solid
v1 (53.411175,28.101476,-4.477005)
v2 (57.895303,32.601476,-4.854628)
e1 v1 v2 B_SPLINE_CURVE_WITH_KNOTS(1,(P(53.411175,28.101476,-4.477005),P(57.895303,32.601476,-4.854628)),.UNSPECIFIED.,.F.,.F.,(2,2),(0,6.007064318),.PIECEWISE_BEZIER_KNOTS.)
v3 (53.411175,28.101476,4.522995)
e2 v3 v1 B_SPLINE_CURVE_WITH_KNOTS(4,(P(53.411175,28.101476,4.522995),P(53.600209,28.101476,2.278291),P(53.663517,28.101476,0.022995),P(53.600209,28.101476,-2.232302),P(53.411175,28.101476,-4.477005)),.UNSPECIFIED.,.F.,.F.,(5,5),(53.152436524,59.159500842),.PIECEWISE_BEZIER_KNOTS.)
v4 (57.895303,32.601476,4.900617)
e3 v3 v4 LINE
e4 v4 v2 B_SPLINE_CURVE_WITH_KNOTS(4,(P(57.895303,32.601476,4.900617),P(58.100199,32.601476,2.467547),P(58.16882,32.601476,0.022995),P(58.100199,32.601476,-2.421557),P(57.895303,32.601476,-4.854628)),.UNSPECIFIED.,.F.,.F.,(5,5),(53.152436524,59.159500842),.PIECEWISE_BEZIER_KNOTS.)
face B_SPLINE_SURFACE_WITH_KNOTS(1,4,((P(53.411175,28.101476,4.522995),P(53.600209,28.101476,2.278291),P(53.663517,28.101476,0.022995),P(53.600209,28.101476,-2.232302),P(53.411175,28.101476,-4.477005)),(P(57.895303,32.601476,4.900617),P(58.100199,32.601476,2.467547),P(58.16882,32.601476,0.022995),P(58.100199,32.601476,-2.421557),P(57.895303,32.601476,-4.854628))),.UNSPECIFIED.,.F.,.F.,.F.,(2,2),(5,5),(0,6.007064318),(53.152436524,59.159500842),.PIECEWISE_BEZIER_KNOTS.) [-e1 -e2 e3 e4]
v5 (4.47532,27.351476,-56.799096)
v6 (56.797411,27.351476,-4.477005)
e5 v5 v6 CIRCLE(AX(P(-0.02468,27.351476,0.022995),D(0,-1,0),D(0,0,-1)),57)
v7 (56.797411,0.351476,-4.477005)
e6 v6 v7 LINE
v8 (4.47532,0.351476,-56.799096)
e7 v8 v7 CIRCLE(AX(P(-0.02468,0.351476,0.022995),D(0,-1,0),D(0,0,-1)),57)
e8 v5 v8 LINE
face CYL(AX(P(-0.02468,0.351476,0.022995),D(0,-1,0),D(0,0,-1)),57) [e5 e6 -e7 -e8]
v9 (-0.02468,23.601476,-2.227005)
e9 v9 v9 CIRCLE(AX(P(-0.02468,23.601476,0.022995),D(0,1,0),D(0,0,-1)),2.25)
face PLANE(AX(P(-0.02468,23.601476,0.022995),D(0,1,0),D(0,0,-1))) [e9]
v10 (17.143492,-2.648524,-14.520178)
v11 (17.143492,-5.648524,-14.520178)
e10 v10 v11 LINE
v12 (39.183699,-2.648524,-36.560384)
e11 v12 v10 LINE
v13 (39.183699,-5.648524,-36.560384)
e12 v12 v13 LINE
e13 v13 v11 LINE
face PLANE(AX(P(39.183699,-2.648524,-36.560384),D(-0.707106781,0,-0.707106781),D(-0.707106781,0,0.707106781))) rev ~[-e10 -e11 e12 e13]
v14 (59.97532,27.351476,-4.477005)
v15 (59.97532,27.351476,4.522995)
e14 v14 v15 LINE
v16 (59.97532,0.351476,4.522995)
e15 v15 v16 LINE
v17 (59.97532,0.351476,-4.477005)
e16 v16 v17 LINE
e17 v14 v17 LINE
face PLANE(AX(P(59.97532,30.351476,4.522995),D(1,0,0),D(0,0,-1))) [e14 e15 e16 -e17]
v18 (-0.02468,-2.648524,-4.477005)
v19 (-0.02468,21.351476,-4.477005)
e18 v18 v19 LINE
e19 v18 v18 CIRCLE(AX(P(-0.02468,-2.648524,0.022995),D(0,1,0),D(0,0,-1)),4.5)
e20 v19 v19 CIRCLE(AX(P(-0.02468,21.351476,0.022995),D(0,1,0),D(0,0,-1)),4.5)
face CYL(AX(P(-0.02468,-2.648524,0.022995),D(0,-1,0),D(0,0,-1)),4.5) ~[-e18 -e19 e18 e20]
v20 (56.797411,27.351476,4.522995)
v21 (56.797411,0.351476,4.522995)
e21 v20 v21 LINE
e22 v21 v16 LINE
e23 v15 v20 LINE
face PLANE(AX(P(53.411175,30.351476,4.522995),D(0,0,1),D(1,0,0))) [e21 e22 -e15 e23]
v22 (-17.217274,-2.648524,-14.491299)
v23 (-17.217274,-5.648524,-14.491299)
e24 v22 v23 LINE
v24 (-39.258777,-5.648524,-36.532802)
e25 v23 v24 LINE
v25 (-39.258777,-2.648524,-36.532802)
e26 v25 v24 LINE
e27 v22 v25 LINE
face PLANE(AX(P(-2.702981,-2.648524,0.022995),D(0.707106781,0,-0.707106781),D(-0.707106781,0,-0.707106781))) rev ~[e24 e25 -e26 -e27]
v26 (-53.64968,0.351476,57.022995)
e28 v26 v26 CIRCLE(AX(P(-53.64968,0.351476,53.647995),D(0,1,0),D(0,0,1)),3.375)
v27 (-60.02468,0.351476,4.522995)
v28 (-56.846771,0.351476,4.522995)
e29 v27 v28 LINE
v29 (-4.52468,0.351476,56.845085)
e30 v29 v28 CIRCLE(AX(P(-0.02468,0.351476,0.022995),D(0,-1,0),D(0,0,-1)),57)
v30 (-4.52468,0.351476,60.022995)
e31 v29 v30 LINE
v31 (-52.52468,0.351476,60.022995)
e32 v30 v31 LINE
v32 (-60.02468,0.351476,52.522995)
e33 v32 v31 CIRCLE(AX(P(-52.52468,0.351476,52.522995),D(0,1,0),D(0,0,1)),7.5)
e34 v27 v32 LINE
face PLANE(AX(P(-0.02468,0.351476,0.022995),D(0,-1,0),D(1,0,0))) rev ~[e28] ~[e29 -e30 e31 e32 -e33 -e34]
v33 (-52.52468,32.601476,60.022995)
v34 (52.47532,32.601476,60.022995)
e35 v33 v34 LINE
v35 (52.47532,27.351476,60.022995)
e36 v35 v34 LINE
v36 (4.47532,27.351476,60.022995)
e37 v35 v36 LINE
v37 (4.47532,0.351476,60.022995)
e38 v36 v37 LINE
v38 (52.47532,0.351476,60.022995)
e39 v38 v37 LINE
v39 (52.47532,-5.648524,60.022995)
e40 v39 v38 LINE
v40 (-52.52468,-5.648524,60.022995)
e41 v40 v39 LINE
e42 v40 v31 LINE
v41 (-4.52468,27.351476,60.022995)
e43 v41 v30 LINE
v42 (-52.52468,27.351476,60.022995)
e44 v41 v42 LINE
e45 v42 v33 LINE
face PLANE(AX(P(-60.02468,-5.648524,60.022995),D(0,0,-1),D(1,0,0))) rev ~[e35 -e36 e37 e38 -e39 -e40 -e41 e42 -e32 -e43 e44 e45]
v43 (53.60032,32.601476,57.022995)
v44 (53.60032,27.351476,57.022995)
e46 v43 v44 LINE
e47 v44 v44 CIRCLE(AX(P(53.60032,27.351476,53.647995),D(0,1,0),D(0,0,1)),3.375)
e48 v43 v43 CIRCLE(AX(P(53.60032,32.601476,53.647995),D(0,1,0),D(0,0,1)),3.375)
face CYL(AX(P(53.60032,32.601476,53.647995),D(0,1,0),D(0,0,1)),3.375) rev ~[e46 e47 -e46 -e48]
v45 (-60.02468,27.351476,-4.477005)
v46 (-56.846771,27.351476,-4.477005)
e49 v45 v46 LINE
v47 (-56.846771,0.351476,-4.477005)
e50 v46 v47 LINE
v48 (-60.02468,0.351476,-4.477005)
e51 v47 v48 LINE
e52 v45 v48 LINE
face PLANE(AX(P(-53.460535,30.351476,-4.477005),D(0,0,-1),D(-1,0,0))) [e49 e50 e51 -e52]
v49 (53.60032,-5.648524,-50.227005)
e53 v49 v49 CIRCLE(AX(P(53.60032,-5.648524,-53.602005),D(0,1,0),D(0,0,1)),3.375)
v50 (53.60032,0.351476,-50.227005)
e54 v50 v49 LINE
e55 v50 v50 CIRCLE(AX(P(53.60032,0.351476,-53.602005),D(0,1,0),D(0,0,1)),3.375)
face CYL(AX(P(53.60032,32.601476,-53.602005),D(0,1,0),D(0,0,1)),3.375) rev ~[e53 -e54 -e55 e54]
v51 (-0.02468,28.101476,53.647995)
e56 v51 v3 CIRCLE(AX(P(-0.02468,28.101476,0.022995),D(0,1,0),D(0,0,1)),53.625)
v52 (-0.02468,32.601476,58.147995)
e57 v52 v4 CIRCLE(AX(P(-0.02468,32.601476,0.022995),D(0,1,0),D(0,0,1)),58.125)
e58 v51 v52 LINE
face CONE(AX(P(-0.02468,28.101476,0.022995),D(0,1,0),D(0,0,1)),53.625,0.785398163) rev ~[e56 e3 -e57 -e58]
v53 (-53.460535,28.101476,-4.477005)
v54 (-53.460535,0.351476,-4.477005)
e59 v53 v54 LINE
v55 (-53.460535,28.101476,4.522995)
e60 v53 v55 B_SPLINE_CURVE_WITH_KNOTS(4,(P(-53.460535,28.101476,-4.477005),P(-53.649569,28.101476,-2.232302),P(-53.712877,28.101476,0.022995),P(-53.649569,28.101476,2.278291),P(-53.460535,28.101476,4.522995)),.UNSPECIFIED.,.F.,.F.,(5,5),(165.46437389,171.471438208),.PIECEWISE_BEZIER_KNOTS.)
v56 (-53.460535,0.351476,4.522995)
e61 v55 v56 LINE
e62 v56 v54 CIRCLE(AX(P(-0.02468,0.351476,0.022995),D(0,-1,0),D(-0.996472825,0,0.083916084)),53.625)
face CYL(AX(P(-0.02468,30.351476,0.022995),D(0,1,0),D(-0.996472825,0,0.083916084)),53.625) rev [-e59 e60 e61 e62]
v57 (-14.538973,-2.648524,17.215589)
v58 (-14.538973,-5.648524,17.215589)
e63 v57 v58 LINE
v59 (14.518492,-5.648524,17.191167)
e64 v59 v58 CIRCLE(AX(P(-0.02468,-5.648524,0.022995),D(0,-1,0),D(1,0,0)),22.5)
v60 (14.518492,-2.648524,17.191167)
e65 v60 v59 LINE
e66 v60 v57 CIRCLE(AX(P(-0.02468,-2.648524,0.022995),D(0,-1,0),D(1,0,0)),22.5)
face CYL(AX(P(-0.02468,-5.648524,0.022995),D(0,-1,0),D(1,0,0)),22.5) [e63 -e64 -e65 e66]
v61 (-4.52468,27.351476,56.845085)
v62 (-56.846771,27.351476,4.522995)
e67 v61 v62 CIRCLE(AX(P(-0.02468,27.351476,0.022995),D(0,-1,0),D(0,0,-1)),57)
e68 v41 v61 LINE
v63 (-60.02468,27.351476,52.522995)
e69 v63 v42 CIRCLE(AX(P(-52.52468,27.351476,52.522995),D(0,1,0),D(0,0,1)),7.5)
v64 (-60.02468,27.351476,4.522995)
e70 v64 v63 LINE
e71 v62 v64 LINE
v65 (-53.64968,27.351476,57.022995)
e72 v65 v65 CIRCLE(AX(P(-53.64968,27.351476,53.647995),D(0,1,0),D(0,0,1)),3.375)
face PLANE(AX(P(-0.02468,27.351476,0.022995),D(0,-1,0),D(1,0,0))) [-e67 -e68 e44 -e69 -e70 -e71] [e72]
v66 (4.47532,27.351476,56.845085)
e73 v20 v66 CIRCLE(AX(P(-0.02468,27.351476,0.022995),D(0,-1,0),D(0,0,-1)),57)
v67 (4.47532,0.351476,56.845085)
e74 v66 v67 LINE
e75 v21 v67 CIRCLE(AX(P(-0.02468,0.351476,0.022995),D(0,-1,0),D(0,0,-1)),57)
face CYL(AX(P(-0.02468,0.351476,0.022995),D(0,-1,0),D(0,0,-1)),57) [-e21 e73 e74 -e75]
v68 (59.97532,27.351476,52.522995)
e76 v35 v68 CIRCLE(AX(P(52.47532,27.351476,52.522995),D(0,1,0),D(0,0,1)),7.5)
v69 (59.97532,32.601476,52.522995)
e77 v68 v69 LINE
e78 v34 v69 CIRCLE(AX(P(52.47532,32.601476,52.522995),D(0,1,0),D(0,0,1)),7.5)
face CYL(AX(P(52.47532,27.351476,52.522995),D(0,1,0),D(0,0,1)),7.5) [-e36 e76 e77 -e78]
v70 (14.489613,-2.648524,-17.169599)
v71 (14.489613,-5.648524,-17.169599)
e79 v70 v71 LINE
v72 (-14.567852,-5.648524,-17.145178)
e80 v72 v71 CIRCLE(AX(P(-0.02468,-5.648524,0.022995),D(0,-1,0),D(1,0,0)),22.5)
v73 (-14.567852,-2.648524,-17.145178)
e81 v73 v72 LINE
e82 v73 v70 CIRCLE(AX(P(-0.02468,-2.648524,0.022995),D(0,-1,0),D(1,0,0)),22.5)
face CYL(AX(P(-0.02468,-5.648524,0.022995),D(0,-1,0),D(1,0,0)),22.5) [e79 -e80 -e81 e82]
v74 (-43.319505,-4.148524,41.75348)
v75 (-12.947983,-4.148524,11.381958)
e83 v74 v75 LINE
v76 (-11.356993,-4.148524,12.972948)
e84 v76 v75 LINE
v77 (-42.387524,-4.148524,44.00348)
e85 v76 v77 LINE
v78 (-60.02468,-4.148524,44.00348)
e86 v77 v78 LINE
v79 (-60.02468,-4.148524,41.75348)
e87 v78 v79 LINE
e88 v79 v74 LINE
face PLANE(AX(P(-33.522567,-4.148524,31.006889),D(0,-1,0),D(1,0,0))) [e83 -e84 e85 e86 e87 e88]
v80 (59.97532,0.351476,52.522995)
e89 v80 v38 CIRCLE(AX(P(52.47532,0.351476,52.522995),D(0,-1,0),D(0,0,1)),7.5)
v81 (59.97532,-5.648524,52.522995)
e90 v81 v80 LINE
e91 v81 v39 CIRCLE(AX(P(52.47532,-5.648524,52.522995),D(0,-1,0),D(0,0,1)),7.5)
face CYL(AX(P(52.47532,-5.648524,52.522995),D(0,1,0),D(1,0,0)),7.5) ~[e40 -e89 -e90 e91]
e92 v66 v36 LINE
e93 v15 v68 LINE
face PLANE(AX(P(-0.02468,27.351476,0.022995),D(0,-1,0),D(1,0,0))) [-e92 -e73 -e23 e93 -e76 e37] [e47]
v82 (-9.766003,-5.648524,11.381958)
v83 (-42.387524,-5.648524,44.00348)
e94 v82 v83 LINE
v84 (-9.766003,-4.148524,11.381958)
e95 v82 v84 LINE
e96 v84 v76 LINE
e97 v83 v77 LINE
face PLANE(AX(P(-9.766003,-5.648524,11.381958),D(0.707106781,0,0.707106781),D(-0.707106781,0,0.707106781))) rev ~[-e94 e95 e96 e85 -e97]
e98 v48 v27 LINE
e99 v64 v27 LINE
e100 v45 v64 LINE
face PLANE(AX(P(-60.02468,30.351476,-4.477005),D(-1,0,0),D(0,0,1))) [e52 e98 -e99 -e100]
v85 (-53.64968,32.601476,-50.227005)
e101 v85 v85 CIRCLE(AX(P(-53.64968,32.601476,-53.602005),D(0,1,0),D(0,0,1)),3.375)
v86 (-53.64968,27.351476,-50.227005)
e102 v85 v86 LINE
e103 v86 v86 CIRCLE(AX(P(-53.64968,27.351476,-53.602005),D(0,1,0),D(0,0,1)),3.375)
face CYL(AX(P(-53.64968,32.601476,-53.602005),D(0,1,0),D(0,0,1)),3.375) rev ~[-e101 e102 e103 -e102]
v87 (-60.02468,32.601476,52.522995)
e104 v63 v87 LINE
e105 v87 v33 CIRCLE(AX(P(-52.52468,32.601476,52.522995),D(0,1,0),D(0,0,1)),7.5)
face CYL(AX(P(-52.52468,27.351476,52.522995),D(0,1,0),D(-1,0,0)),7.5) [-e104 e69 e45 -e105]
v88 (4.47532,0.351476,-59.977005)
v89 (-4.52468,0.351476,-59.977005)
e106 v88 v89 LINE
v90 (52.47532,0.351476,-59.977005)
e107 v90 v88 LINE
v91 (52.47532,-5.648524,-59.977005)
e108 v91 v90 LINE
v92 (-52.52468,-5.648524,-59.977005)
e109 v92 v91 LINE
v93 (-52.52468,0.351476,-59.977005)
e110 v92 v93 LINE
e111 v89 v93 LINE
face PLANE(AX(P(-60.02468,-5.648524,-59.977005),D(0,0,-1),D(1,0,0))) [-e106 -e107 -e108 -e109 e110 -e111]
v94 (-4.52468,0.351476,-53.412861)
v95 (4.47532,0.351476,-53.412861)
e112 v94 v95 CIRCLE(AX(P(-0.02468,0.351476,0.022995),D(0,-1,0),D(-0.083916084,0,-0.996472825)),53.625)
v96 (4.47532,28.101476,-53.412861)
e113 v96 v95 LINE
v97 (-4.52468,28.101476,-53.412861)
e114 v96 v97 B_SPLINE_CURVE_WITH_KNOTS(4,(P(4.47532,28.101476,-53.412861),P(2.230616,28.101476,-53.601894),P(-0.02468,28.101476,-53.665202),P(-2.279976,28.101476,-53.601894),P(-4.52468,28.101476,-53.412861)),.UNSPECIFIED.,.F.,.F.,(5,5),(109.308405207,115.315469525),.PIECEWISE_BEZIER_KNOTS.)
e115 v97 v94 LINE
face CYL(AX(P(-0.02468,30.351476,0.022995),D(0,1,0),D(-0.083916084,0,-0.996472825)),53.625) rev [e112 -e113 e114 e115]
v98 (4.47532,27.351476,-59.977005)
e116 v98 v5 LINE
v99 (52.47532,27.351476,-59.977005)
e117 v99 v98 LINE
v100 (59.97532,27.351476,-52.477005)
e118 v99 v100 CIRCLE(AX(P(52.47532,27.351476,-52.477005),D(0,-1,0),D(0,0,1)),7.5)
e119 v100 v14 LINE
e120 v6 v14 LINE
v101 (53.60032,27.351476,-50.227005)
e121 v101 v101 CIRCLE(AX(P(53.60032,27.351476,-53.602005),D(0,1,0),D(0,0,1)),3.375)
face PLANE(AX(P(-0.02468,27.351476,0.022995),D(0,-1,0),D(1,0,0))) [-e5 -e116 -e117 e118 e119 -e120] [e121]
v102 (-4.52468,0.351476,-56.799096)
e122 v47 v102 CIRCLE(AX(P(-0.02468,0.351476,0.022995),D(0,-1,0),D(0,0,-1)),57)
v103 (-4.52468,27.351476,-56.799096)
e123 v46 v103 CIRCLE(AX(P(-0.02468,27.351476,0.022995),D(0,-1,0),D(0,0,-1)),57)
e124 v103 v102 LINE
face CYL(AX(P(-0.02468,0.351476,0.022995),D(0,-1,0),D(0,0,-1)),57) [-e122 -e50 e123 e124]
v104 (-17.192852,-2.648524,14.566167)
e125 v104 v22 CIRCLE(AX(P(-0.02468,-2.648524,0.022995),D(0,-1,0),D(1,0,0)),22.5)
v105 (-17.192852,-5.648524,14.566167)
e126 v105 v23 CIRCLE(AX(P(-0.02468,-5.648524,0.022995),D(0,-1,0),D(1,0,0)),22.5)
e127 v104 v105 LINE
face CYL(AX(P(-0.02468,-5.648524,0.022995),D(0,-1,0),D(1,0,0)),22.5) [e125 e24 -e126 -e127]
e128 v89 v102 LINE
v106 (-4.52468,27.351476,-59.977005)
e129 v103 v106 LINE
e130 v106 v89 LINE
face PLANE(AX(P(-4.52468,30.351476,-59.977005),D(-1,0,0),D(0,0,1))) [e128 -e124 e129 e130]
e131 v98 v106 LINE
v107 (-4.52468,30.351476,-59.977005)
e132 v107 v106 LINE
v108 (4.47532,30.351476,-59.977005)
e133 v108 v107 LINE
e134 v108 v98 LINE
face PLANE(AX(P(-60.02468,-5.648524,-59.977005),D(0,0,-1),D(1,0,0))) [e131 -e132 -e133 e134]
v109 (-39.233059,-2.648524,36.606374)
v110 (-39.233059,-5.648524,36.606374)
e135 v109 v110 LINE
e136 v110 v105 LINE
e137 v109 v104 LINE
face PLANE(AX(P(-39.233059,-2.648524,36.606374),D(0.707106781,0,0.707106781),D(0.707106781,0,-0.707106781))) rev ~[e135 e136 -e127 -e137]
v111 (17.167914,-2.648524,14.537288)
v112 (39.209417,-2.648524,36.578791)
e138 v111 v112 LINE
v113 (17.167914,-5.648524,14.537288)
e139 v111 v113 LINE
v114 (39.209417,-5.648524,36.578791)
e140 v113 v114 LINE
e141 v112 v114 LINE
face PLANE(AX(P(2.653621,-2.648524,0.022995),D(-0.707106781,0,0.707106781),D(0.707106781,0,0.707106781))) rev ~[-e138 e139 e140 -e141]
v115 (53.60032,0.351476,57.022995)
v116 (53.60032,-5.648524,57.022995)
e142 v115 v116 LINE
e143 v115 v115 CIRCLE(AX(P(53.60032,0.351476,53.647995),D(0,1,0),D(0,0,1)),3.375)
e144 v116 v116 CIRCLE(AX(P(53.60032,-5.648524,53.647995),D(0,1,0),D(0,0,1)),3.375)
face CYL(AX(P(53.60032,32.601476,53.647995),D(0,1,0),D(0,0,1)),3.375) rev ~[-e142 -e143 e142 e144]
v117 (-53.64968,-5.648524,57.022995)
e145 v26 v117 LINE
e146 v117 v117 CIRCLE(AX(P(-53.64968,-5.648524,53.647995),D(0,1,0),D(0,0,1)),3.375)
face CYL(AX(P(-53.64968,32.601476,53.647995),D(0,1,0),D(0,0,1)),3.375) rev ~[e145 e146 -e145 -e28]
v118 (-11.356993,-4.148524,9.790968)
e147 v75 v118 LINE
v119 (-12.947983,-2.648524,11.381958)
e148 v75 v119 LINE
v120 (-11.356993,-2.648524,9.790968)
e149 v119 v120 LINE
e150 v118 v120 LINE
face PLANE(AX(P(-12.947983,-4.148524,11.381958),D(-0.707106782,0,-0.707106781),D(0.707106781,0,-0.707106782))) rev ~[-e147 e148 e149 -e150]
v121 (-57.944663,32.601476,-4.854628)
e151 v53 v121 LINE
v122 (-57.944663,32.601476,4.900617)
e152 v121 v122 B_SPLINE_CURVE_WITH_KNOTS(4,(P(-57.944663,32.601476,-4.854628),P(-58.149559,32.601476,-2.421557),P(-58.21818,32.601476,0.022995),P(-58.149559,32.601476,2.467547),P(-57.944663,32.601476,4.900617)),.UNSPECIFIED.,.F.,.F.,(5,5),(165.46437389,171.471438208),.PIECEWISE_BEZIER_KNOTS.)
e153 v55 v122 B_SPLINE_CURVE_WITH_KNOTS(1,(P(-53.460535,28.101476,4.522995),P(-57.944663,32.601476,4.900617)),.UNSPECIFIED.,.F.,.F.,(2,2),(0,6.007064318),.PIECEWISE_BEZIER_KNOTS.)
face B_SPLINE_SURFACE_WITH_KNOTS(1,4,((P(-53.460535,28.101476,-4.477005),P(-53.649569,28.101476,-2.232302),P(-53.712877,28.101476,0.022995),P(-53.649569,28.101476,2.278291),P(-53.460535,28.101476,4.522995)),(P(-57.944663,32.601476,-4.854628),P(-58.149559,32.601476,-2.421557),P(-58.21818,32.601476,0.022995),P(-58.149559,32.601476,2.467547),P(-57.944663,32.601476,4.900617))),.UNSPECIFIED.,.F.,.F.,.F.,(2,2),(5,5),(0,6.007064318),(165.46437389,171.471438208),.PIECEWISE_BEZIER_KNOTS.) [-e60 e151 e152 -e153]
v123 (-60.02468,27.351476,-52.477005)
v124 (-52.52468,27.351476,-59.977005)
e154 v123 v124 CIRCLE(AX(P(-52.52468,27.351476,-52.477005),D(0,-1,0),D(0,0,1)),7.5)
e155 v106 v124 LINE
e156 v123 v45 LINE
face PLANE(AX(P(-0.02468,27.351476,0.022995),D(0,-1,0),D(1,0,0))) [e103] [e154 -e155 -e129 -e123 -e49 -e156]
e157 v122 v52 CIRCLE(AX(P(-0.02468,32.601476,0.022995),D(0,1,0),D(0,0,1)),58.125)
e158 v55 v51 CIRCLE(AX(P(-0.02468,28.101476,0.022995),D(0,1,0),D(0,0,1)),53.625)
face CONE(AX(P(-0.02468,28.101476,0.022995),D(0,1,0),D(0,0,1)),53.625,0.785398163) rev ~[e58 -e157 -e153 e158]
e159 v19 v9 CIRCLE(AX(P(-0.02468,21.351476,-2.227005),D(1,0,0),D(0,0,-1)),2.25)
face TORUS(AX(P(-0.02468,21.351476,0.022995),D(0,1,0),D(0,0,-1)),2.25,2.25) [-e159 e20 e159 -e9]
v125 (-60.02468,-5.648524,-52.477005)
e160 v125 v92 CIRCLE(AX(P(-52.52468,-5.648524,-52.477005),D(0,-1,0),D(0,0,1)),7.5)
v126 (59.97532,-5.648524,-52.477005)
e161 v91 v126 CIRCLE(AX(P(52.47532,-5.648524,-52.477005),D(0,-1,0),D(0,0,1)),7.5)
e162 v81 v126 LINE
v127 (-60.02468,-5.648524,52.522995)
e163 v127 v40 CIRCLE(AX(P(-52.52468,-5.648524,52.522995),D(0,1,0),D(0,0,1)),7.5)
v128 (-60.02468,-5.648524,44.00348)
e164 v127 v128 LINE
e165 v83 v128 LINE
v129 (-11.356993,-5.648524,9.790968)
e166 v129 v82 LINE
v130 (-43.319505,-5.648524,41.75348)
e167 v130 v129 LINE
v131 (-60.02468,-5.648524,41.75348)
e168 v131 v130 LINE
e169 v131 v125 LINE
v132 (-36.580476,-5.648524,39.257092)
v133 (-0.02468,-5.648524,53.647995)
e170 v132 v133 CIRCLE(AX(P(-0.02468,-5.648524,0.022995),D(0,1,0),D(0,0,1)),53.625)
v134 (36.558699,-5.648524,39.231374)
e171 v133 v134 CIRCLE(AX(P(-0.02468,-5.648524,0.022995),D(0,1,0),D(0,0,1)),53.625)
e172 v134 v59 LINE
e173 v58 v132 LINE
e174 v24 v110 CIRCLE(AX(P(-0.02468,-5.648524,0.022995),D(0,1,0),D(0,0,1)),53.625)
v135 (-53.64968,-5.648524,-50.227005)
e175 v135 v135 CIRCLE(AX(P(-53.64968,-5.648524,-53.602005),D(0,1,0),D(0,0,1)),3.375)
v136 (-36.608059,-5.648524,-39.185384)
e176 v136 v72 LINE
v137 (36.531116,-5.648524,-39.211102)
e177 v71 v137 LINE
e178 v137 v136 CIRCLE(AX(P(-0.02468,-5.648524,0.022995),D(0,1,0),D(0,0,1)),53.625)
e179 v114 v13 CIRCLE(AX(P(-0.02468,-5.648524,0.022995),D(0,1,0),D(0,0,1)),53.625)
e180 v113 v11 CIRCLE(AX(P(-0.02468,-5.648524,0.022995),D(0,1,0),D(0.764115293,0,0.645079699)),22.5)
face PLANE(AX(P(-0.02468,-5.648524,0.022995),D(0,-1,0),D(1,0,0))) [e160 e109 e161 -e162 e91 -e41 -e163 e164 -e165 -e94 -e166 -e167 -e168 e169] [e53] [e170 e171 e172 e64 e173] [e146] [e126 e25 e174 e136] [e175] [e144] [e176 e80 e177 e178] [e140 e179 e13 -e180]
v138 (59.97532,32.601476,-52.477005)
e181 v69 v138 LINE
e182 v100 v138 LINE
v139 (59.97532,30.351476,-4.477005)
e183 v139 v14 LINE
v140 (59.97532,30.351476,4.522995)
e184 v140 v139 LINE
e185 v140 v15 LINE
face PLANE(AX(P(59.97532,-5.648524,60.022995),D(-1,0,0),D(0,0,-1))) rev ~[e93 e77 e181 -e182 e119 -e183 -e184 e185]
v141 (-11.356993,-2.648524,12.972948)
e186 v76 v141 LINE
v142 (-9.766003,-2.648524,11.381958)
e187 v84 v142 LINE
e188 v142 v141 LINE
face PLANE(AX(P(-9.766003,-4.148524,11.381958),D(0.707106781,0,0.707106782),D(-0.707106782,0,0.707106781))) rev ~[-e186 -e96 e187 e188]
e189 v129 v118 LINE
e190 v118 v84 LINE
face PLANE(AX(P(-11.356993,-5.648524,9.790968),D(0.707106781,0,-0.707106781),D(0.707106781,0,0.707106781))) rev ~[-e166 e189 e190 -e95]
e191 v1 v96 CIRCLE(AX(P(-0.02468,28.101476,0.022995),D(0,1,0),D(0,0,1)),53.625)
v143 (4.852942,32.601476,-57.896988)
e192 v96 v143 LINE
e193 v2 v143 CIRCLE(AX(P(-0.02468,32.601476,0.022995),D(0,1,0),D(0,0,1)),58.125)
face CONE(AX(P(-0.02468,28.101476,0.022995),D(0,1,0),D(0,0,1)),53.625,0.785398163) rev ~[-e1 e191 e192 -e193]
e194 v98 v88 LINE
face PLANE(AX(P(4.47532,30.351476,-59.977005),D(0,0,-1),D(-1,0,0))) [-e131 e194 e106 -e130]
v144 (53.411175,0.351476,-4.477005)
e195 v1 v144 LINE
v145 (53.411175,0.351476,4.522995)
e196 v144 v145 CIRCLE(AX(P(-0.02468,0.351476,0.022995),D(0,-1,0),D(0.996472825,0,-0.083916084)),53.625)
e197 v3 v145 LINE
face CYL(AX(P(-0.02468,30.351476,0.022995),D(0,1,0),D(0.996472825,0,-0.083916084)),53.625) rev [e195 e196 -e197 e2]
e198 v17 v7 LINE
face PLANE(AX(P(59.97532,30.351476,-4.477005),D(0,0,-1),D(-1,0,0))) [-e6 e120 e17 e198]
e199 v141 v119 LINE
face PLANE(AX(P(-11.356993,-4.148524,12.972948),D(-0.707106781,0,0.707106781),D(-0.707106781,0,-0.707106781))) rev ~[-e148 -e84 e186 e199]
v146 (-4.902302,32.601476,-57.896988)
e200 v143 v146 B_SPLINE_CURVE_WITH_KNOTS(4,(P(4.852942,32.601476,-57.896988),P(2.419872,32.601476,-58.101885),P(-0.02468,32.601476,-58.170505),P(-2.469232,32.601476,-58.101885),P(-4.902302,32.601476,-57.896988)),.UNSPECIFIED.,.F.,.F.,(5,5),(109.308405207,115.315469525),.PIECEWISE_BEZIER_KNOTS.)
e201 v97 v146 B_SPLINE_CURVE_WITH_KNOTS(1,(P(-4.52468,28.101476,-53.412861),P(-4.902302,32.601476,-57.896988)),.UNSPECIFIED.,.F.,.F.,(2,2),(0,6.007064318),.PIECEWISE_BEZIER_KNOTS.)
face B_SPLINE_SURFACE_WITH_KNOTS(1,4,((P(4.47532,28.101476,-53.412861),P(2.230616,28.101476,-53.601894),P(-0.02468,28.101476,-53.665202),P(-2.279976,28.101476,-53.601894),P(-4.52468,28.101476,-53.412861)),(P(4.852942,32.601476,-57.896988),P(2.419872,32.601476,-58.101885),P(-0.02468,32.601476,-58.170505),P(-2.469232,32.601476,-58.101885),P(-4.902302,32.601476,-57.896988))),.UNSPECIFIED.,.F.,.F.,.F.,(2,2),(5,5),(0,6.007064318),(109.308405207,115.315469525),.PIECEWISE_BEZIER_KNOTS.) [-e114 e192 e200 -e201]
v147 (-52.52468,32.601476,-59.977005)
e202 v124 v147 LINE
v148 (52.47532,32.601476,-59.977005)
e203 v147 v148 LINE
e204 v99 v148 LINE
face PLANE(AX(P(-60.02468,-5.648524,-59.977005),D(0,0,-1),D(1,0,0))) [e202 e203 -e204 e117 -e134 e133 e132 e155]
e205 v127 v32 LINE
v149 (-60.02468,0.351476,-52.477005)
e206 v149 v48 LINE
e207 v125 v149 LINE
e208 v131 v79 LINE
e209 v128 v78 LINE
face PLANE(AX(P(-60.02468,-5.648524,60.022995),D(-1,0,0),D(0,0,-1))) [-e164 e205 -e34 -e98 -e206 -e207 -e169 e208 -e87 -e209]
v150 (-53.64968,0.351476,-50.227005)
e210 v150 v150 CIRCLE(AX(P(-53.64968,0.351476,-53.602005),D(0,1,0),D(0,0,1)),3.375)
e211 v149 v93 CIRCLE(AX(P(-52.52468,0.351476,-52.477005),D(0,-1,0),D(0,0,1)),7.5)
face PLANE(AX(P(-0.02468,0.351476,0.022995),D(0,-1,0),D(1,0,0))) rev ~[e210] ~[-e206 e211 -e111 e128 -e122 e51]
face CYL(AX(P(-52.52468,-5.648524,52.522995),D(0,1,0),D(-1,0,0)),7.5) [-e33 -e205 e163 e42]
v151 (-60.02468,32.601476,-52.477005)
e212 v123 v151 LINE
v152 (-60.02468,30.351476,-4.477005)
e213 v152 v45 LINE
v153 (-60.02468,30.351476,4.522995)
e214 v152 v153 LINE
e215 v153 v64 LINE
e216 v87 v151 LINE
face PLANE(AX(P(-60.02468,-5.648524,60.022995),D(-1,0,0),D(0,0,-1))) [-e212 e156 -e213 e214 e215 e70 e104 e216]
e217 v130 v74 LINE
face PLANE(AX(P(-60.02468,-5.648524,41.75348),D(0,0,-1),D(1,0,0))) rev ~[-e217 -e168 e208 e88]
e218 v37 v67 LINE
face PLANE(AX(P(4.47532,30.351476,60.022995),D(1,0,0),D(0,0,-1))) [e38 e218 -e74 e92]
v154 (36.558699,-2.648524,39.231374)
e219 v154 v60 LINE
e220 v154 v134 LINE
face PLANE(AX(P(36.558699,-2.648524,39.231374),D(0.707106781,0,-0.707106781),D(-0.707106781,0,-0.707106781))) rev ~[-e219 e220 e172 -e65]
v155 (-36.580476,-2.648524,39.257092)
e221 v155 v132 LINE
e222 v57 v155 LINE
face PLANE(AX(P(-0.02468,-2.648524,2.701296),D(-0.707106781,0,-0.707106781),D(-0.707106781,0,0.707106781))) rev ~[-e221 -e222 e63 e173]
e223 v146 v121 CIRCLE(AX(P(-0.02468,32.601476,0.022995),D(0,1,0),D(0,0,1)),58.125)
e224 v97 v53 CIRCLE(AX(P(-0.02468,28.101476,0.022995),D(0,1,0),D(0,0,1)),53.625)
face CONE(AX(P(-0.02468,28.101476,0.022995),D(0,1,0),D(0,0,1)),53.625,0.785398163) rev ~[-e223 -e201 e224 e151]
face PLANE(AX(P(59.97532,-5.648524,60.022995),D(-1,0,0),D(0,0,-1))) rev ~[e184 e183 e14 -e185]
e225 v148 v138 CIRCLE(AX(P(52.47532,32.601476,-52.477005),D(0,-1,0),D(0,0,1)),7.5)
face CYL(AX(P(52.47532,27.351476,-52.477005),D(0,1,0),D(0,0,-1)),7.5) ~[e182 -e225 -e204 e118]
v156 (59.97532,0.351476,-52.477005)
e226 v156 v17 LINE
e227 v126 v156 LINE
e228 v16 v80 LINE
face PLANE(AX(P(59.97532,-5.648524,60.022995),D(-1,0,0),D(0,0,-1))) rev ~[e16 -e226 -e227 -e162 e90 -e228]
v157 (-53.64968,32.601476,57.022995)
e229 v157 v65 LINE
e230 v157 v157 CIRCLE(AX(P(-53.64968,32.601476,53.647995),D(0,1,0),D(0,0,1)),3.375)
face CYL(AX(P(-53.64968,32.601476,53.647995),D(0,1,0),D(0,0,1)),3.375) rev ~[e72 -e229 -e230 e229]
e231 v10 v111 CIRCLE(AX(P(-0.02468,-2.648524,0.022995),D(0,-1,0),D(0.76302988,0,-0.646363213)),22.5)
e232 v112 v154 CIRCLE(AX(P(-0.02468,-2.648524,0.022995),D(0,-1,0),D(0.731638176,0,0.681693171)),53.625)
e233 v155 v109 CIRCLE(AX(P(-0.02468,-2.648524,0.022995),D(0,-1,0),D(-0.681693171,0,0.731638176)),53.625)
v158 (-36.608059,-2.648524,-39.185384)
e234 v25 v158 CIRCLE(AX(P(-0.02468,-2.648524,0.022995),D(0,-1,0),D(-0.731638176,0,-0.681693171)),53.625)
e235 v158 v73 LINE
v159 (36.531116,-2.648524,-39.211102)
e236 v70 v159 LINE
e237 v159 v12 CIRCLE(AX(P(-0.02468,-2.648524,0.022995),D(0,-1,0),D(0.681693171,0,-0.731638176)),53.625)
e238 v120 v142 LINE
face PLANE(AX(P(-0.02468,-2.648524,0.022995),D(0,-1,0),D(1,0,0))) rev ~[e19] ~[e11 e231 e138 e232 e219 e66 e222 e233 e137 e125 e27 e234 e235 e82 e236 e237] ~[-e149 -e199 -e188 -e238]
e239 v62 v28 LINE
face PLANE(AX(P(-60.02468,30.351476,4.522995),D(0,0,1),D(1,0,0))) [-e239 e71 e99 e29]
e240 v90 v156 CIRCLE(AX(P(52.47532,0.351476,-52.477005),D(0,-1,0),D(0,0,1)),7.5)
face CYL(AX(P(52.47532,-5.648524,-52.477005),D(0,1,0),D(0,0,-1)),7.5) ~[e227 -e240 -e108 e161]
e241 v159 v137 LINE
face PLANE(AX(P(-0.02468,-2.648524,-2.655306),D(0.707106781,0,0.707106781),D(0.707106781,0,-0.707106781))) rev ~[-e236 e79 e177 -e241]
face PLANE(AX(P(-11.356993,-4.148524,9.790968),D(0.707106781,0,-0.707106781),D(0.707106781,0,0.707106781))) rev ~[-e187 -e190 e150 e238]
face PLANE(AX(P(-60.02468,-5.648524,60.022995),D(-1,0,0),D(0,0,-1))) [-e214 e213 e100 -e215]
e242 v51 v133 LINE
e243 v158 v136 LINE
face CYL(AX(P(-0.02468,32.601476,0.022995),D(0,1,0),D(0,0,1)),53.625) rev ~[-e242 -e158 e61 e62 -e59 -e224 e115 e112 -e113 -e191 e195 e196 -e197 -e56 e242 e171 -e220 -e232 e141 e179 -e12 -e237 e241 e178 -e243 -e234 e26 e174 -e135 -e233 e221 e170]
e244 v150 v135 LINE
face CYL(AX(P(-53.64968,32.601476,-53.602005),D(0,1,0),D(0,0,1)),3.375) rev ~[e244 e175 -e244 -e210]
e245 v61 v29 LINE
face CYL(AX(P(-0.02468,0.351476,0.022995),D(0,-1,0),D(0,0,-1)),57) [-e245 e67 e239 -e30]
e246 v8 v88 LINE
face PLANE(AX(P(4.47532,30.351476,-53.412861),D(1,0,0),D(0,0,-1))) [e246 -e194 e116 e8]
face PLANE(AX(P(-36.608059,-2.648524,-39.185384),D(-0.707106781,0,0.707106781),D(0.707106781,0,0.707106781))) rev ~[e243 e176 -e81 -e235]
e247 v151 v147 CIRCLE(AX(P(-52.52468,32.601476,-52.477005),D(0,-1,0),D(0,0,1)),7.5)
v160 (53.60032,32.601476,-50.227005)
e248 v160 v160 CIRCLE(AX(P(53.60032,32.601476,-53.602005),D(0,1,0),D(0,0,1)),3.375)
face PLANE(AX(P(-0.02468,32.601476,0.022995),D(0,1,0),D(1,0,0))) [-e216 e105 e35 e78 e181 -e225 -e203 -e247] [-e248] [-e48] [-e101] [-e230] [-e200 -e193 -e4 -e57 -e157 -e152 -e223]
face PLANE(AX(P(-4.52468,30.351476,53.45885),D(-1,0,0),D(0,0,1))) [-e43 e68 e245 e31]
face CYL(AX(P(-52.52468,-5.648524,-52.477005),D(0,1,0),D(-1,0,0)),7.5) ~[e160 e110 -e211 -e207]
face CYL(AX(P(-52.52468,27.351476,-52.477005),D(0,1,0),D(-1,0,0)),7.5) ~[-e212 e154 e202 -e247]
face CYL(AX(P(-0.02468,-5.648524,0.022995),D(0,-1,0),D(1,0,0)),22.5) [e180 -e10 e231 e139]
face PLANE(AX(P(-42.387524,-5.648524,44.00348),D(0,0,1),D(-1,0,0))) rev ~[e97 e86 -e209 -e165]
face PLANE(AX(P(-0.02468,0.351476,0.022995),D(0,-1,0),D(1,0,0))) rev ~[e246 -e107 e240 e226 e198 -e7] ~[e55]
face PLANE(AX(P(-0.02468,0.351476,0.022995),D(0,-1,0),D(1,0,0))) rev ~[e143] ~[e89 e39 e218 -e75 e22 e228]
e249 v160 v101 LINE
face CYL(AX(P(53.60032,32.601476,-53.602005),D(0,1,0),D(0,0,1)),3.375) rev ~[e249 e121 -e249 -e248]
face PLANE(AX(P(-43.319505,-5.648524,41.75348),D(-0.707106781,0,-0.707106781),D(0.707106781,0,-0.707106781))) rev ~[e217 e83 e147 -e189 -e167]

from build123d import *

# Parameters (mm, degrees)
SKETCH1_W            = 80
SKETCH1_H            = 80
BOSS_EXTRUDE1_DEPTH  = 25.5
SKETCH2_R            = 35.75
CUT_EXTRUDE2_DEPTH   = 28
BOSS_EXTRUDE2_START  = -2
BOSS_EXTRUDE2_DEPTH  = 2
CIRPATTERN2_COUNT    = 4
SKETCH5_R            = 15
BOSS_EXTRUDE3_DEPTH  = 2
SKETCH6_R            = 3
BOSS_EXTRUDE4_DEPTH  = 17.5
FILLET1_R            = 1.5
SKETCH7_R            = 70
SKETCH7_R_2          = 38
CUT_EXTRUDE4_DEPTH   = 18
FILLET2_R            = 5
BOSS_EXTRUDE5_START  = -20
BOSS_EXTRUDE5_DEPTH  = 20
CIRPATTERN3_COUNT    = 4
SKETCH9_R            = 2.25
CUT_EXTRUDE5_DEPTH   = 37
LPATTERN1_COUNT      = 2
LPATTERN1_PITCH      = 71.5
LPATTERN1_COUNT_DIR2 = 2
LPATTERN1_PITCH_DIR2 = 71.5
CHAMFER2_SIZE        = 3
CUT_EXTRUDE6_DEPTH   = 1
CUT_EXTRUDE7_DEPTH   = 7
SCALE1_SCALE         = 1.5


with BuildPart() as part:
    # Sketch1 → Boss-Extrude1 (new body)
    with BuildSketch(Plane(origin=(0, 0, 0), x_dir=(1, 0, 0), z_dir=(0, 1, 0))):
        Rectangle(SKETCH1_W, SKETCH1_H)
    extrude(amount=BOSS_EXTRUDE1_DEPTH)

    # Sketch2 → Cut-Extrude2 (cut)
    with BuildSketch(Plane(origin=(0, 25.5, 0), x_dir=(1, 0, 0), z_dir=(0, 1, 0))):
        with Locations(Location((0, 0, 0), (0, 0, 270))):
            Circle(SKETCH2_R)
    extrude(amount=-CUT_EXTRUDE2_DEPTH, mode=Mode.SUBTRACT)

    # Sketch4 → Boss-Extrude2 (add)
    with BuildSketch(Plane.XZ.offset(BOSS_EXTRUDE2_START)):
        with BuildLine():
            Line((-1.75, 0), (0, 1.785533906))
            Line((0, 1.785533906), (-24.370530875, 26.156064781))
            ThreePointArc((-24.370530875, 26.156064781), (-25.270176953, 25.287954776), (-26.138919431, 24.388919431))
            Line((-26.138919431, 24.388919431), (-1.75, 0))
        make_face()
    boss_extrude2 = extrude(amount=BOSS_EXTRUDE2_DEPTH)

    # CirPattern2: Boss-Extrude2 ×4 about axis
    cirpattern2_axis = Axis((0, 0, 0), (0, 1, 0))
    for i in range(1, CIRPATTERN2_COUNT):
        add(boss_extrude2.rotate(cirpattern2_axis, i * 360 / CIRPATTERN2_COUNT))

    # Sketch5 → Boss-Extrude3 (add)
    with BuildSketch(Plane.XZ):
        Circle(SKETCH5_R)
    extrude(amount=-BOSS_EXTRUDE3_DEPTH)

    # Sketch6 → Boss-Extrude4 (add)
    with BuildSketch(Plane(origin=(0, 2, 0), x_dir=(1, 0, 0), z_dir=(0, 1, 0))):
        with Locations(Location((0, 0, 0), (0, 0, 90))):
            Circle(SKETCH6_R)
    extrude(amount=BOSS_EXTRUDE4_DEPTH)

    # Fillet1
    fillet1_edges = [part.edges().sort_by_distance(p)[0] for p in [
        (0, 19.5, 3),
    ]]
    fillet(fillet1_edges, radius=FILLET1_R)

    # Sketch7 → Cut-Extrude4 (cut)
    with BuildSketch(Plane.XZ.offset(-4)):
        Circle(SKETCH7_R)
        with Locations(Location((0, 0, 0), (0, 0, 270))):
            Circle(SKETCH7_R_2, mode=Mode.SUBTRACT)
    extrude(amount=-CUT_EXTRUDE4_DEPTH, mode=Mode.SUBTRACT)

    # Fillet2
    fillet2_edges = [part.edges().sort_by_distance(p)[0] for p in [
        (-40, 2, -40),
        (40, 2, -40),
        (40, 2, 40),
        (-40, 2, 40),
        (-40, 23.75, -40),
        (40, 23.75, -40),
        (40, 23.75, 40),
        (-40, 23.75, 40),
    ]]
    fillet(fillet2_edges, radius=FILLET2_R)

    # Sketch8 → Boss-Extrude5 (add)
    with BuildSketch(Plane.XZ.offset(-4).offset(BOSS_EXTRUDE5_START)):
        with BuildLine():
            Line((-3, 40), (3, 40))
            Line((3, 40), (3, 35.623903492))
            ThreePointArc((3, 35.623903492), (0, 35.75), (-3, 35.623903492))
            Line((-3, 35.623903492), (-3, 40))
        make_face()
    boss_extrude5 = extrude(amount=BOSS_EXTRUDE5_DEPTH)

    # CirPattern3: Boss-Extrude5 ×4 about axis
    cirpattern3_axis = Axis((0, 0, 0), (0, 1, 0))
    for i in range(1, CIRPATTERN3_COUNT):
        add(boss_extrude5.rotate(cirpattern3_axis, i * 360 / CIRPATTERN3_COUNT))

    # Sketch9 → Cut-Extrude5 (cut)
    with BuildSketch(Plane(origin=(0, 25.5, 0), x_dir=(-1, 0, 0), z_dir=(0, 1, 0))):
        with Locations(Location((35.75, -35.75, 0), (0, 0, 90))):
            Circle(SKETCH9_R)
    cut_extrude5 = extrude(amount=-CUT_EXTRUDE5_DEPTH, mode=Mode.SUBTRACT)

    # LPattern1: Cut-Extrude5 2 × 2
    with Locations(*[(i * LPATTERN1_PITCH, 0, j * LPATTERN1_PITCH_DIR2) for i in range(LPATTERN1_COUNT) for j in range(LPATTERN1_COUNT_DIR2) if (i, j) != (0, 0)]):
        add(cut_extrude5, mode=Mode.SUBTRACT)

    # Chamfer2
    chamfer2_edges = [part.edges().sort_by_distance(p)[0] for p in [
        (0, 25.5, -35.75),
    ]]
    chamfer(chamfer2_edges, length=CHAMFER2_SIZE)

    # Sketch11 → Cut-Extrude6 (cut)
    with BuildSketch(Plane.XZ):
        Polygon((-28.863216429, 27.820323211), (-7.554875149, 6.51198193), (-6.494214977, 7.572642102), (-28.241896086, 29.320323211), (-40, 29.320323211), (-40, 27.820323211), align=None)
    extrude(amount=-CUT_EXTRUDE6_DEPTH, mode=Mode.SUBTRACT)

    # Sketch12 → Cut-Extrude7 (cut)
    with BuildSketch(Plane.XZ.offset(-1)):
        Polygon((-6.494214977, 7.572642102), (-7.554875149, 8.633302273), (-8.61553532, 7.572642102), (-7.554875149, 6.51198193), align=None)
    extrude(amount=-CUT_EXTRUDE7_DEPTH, mode=Mode.SUBTRACT)


with BuildPart() as part_1:
    # Scale1: scaled about (0.049360087, 11.297047604, -0.045989388)
    add(part.part.scale(SCALE1_SCALE).moved(Location((-0.024680043, -5.648523802, 0.022994694))))


solid = part_1.part
